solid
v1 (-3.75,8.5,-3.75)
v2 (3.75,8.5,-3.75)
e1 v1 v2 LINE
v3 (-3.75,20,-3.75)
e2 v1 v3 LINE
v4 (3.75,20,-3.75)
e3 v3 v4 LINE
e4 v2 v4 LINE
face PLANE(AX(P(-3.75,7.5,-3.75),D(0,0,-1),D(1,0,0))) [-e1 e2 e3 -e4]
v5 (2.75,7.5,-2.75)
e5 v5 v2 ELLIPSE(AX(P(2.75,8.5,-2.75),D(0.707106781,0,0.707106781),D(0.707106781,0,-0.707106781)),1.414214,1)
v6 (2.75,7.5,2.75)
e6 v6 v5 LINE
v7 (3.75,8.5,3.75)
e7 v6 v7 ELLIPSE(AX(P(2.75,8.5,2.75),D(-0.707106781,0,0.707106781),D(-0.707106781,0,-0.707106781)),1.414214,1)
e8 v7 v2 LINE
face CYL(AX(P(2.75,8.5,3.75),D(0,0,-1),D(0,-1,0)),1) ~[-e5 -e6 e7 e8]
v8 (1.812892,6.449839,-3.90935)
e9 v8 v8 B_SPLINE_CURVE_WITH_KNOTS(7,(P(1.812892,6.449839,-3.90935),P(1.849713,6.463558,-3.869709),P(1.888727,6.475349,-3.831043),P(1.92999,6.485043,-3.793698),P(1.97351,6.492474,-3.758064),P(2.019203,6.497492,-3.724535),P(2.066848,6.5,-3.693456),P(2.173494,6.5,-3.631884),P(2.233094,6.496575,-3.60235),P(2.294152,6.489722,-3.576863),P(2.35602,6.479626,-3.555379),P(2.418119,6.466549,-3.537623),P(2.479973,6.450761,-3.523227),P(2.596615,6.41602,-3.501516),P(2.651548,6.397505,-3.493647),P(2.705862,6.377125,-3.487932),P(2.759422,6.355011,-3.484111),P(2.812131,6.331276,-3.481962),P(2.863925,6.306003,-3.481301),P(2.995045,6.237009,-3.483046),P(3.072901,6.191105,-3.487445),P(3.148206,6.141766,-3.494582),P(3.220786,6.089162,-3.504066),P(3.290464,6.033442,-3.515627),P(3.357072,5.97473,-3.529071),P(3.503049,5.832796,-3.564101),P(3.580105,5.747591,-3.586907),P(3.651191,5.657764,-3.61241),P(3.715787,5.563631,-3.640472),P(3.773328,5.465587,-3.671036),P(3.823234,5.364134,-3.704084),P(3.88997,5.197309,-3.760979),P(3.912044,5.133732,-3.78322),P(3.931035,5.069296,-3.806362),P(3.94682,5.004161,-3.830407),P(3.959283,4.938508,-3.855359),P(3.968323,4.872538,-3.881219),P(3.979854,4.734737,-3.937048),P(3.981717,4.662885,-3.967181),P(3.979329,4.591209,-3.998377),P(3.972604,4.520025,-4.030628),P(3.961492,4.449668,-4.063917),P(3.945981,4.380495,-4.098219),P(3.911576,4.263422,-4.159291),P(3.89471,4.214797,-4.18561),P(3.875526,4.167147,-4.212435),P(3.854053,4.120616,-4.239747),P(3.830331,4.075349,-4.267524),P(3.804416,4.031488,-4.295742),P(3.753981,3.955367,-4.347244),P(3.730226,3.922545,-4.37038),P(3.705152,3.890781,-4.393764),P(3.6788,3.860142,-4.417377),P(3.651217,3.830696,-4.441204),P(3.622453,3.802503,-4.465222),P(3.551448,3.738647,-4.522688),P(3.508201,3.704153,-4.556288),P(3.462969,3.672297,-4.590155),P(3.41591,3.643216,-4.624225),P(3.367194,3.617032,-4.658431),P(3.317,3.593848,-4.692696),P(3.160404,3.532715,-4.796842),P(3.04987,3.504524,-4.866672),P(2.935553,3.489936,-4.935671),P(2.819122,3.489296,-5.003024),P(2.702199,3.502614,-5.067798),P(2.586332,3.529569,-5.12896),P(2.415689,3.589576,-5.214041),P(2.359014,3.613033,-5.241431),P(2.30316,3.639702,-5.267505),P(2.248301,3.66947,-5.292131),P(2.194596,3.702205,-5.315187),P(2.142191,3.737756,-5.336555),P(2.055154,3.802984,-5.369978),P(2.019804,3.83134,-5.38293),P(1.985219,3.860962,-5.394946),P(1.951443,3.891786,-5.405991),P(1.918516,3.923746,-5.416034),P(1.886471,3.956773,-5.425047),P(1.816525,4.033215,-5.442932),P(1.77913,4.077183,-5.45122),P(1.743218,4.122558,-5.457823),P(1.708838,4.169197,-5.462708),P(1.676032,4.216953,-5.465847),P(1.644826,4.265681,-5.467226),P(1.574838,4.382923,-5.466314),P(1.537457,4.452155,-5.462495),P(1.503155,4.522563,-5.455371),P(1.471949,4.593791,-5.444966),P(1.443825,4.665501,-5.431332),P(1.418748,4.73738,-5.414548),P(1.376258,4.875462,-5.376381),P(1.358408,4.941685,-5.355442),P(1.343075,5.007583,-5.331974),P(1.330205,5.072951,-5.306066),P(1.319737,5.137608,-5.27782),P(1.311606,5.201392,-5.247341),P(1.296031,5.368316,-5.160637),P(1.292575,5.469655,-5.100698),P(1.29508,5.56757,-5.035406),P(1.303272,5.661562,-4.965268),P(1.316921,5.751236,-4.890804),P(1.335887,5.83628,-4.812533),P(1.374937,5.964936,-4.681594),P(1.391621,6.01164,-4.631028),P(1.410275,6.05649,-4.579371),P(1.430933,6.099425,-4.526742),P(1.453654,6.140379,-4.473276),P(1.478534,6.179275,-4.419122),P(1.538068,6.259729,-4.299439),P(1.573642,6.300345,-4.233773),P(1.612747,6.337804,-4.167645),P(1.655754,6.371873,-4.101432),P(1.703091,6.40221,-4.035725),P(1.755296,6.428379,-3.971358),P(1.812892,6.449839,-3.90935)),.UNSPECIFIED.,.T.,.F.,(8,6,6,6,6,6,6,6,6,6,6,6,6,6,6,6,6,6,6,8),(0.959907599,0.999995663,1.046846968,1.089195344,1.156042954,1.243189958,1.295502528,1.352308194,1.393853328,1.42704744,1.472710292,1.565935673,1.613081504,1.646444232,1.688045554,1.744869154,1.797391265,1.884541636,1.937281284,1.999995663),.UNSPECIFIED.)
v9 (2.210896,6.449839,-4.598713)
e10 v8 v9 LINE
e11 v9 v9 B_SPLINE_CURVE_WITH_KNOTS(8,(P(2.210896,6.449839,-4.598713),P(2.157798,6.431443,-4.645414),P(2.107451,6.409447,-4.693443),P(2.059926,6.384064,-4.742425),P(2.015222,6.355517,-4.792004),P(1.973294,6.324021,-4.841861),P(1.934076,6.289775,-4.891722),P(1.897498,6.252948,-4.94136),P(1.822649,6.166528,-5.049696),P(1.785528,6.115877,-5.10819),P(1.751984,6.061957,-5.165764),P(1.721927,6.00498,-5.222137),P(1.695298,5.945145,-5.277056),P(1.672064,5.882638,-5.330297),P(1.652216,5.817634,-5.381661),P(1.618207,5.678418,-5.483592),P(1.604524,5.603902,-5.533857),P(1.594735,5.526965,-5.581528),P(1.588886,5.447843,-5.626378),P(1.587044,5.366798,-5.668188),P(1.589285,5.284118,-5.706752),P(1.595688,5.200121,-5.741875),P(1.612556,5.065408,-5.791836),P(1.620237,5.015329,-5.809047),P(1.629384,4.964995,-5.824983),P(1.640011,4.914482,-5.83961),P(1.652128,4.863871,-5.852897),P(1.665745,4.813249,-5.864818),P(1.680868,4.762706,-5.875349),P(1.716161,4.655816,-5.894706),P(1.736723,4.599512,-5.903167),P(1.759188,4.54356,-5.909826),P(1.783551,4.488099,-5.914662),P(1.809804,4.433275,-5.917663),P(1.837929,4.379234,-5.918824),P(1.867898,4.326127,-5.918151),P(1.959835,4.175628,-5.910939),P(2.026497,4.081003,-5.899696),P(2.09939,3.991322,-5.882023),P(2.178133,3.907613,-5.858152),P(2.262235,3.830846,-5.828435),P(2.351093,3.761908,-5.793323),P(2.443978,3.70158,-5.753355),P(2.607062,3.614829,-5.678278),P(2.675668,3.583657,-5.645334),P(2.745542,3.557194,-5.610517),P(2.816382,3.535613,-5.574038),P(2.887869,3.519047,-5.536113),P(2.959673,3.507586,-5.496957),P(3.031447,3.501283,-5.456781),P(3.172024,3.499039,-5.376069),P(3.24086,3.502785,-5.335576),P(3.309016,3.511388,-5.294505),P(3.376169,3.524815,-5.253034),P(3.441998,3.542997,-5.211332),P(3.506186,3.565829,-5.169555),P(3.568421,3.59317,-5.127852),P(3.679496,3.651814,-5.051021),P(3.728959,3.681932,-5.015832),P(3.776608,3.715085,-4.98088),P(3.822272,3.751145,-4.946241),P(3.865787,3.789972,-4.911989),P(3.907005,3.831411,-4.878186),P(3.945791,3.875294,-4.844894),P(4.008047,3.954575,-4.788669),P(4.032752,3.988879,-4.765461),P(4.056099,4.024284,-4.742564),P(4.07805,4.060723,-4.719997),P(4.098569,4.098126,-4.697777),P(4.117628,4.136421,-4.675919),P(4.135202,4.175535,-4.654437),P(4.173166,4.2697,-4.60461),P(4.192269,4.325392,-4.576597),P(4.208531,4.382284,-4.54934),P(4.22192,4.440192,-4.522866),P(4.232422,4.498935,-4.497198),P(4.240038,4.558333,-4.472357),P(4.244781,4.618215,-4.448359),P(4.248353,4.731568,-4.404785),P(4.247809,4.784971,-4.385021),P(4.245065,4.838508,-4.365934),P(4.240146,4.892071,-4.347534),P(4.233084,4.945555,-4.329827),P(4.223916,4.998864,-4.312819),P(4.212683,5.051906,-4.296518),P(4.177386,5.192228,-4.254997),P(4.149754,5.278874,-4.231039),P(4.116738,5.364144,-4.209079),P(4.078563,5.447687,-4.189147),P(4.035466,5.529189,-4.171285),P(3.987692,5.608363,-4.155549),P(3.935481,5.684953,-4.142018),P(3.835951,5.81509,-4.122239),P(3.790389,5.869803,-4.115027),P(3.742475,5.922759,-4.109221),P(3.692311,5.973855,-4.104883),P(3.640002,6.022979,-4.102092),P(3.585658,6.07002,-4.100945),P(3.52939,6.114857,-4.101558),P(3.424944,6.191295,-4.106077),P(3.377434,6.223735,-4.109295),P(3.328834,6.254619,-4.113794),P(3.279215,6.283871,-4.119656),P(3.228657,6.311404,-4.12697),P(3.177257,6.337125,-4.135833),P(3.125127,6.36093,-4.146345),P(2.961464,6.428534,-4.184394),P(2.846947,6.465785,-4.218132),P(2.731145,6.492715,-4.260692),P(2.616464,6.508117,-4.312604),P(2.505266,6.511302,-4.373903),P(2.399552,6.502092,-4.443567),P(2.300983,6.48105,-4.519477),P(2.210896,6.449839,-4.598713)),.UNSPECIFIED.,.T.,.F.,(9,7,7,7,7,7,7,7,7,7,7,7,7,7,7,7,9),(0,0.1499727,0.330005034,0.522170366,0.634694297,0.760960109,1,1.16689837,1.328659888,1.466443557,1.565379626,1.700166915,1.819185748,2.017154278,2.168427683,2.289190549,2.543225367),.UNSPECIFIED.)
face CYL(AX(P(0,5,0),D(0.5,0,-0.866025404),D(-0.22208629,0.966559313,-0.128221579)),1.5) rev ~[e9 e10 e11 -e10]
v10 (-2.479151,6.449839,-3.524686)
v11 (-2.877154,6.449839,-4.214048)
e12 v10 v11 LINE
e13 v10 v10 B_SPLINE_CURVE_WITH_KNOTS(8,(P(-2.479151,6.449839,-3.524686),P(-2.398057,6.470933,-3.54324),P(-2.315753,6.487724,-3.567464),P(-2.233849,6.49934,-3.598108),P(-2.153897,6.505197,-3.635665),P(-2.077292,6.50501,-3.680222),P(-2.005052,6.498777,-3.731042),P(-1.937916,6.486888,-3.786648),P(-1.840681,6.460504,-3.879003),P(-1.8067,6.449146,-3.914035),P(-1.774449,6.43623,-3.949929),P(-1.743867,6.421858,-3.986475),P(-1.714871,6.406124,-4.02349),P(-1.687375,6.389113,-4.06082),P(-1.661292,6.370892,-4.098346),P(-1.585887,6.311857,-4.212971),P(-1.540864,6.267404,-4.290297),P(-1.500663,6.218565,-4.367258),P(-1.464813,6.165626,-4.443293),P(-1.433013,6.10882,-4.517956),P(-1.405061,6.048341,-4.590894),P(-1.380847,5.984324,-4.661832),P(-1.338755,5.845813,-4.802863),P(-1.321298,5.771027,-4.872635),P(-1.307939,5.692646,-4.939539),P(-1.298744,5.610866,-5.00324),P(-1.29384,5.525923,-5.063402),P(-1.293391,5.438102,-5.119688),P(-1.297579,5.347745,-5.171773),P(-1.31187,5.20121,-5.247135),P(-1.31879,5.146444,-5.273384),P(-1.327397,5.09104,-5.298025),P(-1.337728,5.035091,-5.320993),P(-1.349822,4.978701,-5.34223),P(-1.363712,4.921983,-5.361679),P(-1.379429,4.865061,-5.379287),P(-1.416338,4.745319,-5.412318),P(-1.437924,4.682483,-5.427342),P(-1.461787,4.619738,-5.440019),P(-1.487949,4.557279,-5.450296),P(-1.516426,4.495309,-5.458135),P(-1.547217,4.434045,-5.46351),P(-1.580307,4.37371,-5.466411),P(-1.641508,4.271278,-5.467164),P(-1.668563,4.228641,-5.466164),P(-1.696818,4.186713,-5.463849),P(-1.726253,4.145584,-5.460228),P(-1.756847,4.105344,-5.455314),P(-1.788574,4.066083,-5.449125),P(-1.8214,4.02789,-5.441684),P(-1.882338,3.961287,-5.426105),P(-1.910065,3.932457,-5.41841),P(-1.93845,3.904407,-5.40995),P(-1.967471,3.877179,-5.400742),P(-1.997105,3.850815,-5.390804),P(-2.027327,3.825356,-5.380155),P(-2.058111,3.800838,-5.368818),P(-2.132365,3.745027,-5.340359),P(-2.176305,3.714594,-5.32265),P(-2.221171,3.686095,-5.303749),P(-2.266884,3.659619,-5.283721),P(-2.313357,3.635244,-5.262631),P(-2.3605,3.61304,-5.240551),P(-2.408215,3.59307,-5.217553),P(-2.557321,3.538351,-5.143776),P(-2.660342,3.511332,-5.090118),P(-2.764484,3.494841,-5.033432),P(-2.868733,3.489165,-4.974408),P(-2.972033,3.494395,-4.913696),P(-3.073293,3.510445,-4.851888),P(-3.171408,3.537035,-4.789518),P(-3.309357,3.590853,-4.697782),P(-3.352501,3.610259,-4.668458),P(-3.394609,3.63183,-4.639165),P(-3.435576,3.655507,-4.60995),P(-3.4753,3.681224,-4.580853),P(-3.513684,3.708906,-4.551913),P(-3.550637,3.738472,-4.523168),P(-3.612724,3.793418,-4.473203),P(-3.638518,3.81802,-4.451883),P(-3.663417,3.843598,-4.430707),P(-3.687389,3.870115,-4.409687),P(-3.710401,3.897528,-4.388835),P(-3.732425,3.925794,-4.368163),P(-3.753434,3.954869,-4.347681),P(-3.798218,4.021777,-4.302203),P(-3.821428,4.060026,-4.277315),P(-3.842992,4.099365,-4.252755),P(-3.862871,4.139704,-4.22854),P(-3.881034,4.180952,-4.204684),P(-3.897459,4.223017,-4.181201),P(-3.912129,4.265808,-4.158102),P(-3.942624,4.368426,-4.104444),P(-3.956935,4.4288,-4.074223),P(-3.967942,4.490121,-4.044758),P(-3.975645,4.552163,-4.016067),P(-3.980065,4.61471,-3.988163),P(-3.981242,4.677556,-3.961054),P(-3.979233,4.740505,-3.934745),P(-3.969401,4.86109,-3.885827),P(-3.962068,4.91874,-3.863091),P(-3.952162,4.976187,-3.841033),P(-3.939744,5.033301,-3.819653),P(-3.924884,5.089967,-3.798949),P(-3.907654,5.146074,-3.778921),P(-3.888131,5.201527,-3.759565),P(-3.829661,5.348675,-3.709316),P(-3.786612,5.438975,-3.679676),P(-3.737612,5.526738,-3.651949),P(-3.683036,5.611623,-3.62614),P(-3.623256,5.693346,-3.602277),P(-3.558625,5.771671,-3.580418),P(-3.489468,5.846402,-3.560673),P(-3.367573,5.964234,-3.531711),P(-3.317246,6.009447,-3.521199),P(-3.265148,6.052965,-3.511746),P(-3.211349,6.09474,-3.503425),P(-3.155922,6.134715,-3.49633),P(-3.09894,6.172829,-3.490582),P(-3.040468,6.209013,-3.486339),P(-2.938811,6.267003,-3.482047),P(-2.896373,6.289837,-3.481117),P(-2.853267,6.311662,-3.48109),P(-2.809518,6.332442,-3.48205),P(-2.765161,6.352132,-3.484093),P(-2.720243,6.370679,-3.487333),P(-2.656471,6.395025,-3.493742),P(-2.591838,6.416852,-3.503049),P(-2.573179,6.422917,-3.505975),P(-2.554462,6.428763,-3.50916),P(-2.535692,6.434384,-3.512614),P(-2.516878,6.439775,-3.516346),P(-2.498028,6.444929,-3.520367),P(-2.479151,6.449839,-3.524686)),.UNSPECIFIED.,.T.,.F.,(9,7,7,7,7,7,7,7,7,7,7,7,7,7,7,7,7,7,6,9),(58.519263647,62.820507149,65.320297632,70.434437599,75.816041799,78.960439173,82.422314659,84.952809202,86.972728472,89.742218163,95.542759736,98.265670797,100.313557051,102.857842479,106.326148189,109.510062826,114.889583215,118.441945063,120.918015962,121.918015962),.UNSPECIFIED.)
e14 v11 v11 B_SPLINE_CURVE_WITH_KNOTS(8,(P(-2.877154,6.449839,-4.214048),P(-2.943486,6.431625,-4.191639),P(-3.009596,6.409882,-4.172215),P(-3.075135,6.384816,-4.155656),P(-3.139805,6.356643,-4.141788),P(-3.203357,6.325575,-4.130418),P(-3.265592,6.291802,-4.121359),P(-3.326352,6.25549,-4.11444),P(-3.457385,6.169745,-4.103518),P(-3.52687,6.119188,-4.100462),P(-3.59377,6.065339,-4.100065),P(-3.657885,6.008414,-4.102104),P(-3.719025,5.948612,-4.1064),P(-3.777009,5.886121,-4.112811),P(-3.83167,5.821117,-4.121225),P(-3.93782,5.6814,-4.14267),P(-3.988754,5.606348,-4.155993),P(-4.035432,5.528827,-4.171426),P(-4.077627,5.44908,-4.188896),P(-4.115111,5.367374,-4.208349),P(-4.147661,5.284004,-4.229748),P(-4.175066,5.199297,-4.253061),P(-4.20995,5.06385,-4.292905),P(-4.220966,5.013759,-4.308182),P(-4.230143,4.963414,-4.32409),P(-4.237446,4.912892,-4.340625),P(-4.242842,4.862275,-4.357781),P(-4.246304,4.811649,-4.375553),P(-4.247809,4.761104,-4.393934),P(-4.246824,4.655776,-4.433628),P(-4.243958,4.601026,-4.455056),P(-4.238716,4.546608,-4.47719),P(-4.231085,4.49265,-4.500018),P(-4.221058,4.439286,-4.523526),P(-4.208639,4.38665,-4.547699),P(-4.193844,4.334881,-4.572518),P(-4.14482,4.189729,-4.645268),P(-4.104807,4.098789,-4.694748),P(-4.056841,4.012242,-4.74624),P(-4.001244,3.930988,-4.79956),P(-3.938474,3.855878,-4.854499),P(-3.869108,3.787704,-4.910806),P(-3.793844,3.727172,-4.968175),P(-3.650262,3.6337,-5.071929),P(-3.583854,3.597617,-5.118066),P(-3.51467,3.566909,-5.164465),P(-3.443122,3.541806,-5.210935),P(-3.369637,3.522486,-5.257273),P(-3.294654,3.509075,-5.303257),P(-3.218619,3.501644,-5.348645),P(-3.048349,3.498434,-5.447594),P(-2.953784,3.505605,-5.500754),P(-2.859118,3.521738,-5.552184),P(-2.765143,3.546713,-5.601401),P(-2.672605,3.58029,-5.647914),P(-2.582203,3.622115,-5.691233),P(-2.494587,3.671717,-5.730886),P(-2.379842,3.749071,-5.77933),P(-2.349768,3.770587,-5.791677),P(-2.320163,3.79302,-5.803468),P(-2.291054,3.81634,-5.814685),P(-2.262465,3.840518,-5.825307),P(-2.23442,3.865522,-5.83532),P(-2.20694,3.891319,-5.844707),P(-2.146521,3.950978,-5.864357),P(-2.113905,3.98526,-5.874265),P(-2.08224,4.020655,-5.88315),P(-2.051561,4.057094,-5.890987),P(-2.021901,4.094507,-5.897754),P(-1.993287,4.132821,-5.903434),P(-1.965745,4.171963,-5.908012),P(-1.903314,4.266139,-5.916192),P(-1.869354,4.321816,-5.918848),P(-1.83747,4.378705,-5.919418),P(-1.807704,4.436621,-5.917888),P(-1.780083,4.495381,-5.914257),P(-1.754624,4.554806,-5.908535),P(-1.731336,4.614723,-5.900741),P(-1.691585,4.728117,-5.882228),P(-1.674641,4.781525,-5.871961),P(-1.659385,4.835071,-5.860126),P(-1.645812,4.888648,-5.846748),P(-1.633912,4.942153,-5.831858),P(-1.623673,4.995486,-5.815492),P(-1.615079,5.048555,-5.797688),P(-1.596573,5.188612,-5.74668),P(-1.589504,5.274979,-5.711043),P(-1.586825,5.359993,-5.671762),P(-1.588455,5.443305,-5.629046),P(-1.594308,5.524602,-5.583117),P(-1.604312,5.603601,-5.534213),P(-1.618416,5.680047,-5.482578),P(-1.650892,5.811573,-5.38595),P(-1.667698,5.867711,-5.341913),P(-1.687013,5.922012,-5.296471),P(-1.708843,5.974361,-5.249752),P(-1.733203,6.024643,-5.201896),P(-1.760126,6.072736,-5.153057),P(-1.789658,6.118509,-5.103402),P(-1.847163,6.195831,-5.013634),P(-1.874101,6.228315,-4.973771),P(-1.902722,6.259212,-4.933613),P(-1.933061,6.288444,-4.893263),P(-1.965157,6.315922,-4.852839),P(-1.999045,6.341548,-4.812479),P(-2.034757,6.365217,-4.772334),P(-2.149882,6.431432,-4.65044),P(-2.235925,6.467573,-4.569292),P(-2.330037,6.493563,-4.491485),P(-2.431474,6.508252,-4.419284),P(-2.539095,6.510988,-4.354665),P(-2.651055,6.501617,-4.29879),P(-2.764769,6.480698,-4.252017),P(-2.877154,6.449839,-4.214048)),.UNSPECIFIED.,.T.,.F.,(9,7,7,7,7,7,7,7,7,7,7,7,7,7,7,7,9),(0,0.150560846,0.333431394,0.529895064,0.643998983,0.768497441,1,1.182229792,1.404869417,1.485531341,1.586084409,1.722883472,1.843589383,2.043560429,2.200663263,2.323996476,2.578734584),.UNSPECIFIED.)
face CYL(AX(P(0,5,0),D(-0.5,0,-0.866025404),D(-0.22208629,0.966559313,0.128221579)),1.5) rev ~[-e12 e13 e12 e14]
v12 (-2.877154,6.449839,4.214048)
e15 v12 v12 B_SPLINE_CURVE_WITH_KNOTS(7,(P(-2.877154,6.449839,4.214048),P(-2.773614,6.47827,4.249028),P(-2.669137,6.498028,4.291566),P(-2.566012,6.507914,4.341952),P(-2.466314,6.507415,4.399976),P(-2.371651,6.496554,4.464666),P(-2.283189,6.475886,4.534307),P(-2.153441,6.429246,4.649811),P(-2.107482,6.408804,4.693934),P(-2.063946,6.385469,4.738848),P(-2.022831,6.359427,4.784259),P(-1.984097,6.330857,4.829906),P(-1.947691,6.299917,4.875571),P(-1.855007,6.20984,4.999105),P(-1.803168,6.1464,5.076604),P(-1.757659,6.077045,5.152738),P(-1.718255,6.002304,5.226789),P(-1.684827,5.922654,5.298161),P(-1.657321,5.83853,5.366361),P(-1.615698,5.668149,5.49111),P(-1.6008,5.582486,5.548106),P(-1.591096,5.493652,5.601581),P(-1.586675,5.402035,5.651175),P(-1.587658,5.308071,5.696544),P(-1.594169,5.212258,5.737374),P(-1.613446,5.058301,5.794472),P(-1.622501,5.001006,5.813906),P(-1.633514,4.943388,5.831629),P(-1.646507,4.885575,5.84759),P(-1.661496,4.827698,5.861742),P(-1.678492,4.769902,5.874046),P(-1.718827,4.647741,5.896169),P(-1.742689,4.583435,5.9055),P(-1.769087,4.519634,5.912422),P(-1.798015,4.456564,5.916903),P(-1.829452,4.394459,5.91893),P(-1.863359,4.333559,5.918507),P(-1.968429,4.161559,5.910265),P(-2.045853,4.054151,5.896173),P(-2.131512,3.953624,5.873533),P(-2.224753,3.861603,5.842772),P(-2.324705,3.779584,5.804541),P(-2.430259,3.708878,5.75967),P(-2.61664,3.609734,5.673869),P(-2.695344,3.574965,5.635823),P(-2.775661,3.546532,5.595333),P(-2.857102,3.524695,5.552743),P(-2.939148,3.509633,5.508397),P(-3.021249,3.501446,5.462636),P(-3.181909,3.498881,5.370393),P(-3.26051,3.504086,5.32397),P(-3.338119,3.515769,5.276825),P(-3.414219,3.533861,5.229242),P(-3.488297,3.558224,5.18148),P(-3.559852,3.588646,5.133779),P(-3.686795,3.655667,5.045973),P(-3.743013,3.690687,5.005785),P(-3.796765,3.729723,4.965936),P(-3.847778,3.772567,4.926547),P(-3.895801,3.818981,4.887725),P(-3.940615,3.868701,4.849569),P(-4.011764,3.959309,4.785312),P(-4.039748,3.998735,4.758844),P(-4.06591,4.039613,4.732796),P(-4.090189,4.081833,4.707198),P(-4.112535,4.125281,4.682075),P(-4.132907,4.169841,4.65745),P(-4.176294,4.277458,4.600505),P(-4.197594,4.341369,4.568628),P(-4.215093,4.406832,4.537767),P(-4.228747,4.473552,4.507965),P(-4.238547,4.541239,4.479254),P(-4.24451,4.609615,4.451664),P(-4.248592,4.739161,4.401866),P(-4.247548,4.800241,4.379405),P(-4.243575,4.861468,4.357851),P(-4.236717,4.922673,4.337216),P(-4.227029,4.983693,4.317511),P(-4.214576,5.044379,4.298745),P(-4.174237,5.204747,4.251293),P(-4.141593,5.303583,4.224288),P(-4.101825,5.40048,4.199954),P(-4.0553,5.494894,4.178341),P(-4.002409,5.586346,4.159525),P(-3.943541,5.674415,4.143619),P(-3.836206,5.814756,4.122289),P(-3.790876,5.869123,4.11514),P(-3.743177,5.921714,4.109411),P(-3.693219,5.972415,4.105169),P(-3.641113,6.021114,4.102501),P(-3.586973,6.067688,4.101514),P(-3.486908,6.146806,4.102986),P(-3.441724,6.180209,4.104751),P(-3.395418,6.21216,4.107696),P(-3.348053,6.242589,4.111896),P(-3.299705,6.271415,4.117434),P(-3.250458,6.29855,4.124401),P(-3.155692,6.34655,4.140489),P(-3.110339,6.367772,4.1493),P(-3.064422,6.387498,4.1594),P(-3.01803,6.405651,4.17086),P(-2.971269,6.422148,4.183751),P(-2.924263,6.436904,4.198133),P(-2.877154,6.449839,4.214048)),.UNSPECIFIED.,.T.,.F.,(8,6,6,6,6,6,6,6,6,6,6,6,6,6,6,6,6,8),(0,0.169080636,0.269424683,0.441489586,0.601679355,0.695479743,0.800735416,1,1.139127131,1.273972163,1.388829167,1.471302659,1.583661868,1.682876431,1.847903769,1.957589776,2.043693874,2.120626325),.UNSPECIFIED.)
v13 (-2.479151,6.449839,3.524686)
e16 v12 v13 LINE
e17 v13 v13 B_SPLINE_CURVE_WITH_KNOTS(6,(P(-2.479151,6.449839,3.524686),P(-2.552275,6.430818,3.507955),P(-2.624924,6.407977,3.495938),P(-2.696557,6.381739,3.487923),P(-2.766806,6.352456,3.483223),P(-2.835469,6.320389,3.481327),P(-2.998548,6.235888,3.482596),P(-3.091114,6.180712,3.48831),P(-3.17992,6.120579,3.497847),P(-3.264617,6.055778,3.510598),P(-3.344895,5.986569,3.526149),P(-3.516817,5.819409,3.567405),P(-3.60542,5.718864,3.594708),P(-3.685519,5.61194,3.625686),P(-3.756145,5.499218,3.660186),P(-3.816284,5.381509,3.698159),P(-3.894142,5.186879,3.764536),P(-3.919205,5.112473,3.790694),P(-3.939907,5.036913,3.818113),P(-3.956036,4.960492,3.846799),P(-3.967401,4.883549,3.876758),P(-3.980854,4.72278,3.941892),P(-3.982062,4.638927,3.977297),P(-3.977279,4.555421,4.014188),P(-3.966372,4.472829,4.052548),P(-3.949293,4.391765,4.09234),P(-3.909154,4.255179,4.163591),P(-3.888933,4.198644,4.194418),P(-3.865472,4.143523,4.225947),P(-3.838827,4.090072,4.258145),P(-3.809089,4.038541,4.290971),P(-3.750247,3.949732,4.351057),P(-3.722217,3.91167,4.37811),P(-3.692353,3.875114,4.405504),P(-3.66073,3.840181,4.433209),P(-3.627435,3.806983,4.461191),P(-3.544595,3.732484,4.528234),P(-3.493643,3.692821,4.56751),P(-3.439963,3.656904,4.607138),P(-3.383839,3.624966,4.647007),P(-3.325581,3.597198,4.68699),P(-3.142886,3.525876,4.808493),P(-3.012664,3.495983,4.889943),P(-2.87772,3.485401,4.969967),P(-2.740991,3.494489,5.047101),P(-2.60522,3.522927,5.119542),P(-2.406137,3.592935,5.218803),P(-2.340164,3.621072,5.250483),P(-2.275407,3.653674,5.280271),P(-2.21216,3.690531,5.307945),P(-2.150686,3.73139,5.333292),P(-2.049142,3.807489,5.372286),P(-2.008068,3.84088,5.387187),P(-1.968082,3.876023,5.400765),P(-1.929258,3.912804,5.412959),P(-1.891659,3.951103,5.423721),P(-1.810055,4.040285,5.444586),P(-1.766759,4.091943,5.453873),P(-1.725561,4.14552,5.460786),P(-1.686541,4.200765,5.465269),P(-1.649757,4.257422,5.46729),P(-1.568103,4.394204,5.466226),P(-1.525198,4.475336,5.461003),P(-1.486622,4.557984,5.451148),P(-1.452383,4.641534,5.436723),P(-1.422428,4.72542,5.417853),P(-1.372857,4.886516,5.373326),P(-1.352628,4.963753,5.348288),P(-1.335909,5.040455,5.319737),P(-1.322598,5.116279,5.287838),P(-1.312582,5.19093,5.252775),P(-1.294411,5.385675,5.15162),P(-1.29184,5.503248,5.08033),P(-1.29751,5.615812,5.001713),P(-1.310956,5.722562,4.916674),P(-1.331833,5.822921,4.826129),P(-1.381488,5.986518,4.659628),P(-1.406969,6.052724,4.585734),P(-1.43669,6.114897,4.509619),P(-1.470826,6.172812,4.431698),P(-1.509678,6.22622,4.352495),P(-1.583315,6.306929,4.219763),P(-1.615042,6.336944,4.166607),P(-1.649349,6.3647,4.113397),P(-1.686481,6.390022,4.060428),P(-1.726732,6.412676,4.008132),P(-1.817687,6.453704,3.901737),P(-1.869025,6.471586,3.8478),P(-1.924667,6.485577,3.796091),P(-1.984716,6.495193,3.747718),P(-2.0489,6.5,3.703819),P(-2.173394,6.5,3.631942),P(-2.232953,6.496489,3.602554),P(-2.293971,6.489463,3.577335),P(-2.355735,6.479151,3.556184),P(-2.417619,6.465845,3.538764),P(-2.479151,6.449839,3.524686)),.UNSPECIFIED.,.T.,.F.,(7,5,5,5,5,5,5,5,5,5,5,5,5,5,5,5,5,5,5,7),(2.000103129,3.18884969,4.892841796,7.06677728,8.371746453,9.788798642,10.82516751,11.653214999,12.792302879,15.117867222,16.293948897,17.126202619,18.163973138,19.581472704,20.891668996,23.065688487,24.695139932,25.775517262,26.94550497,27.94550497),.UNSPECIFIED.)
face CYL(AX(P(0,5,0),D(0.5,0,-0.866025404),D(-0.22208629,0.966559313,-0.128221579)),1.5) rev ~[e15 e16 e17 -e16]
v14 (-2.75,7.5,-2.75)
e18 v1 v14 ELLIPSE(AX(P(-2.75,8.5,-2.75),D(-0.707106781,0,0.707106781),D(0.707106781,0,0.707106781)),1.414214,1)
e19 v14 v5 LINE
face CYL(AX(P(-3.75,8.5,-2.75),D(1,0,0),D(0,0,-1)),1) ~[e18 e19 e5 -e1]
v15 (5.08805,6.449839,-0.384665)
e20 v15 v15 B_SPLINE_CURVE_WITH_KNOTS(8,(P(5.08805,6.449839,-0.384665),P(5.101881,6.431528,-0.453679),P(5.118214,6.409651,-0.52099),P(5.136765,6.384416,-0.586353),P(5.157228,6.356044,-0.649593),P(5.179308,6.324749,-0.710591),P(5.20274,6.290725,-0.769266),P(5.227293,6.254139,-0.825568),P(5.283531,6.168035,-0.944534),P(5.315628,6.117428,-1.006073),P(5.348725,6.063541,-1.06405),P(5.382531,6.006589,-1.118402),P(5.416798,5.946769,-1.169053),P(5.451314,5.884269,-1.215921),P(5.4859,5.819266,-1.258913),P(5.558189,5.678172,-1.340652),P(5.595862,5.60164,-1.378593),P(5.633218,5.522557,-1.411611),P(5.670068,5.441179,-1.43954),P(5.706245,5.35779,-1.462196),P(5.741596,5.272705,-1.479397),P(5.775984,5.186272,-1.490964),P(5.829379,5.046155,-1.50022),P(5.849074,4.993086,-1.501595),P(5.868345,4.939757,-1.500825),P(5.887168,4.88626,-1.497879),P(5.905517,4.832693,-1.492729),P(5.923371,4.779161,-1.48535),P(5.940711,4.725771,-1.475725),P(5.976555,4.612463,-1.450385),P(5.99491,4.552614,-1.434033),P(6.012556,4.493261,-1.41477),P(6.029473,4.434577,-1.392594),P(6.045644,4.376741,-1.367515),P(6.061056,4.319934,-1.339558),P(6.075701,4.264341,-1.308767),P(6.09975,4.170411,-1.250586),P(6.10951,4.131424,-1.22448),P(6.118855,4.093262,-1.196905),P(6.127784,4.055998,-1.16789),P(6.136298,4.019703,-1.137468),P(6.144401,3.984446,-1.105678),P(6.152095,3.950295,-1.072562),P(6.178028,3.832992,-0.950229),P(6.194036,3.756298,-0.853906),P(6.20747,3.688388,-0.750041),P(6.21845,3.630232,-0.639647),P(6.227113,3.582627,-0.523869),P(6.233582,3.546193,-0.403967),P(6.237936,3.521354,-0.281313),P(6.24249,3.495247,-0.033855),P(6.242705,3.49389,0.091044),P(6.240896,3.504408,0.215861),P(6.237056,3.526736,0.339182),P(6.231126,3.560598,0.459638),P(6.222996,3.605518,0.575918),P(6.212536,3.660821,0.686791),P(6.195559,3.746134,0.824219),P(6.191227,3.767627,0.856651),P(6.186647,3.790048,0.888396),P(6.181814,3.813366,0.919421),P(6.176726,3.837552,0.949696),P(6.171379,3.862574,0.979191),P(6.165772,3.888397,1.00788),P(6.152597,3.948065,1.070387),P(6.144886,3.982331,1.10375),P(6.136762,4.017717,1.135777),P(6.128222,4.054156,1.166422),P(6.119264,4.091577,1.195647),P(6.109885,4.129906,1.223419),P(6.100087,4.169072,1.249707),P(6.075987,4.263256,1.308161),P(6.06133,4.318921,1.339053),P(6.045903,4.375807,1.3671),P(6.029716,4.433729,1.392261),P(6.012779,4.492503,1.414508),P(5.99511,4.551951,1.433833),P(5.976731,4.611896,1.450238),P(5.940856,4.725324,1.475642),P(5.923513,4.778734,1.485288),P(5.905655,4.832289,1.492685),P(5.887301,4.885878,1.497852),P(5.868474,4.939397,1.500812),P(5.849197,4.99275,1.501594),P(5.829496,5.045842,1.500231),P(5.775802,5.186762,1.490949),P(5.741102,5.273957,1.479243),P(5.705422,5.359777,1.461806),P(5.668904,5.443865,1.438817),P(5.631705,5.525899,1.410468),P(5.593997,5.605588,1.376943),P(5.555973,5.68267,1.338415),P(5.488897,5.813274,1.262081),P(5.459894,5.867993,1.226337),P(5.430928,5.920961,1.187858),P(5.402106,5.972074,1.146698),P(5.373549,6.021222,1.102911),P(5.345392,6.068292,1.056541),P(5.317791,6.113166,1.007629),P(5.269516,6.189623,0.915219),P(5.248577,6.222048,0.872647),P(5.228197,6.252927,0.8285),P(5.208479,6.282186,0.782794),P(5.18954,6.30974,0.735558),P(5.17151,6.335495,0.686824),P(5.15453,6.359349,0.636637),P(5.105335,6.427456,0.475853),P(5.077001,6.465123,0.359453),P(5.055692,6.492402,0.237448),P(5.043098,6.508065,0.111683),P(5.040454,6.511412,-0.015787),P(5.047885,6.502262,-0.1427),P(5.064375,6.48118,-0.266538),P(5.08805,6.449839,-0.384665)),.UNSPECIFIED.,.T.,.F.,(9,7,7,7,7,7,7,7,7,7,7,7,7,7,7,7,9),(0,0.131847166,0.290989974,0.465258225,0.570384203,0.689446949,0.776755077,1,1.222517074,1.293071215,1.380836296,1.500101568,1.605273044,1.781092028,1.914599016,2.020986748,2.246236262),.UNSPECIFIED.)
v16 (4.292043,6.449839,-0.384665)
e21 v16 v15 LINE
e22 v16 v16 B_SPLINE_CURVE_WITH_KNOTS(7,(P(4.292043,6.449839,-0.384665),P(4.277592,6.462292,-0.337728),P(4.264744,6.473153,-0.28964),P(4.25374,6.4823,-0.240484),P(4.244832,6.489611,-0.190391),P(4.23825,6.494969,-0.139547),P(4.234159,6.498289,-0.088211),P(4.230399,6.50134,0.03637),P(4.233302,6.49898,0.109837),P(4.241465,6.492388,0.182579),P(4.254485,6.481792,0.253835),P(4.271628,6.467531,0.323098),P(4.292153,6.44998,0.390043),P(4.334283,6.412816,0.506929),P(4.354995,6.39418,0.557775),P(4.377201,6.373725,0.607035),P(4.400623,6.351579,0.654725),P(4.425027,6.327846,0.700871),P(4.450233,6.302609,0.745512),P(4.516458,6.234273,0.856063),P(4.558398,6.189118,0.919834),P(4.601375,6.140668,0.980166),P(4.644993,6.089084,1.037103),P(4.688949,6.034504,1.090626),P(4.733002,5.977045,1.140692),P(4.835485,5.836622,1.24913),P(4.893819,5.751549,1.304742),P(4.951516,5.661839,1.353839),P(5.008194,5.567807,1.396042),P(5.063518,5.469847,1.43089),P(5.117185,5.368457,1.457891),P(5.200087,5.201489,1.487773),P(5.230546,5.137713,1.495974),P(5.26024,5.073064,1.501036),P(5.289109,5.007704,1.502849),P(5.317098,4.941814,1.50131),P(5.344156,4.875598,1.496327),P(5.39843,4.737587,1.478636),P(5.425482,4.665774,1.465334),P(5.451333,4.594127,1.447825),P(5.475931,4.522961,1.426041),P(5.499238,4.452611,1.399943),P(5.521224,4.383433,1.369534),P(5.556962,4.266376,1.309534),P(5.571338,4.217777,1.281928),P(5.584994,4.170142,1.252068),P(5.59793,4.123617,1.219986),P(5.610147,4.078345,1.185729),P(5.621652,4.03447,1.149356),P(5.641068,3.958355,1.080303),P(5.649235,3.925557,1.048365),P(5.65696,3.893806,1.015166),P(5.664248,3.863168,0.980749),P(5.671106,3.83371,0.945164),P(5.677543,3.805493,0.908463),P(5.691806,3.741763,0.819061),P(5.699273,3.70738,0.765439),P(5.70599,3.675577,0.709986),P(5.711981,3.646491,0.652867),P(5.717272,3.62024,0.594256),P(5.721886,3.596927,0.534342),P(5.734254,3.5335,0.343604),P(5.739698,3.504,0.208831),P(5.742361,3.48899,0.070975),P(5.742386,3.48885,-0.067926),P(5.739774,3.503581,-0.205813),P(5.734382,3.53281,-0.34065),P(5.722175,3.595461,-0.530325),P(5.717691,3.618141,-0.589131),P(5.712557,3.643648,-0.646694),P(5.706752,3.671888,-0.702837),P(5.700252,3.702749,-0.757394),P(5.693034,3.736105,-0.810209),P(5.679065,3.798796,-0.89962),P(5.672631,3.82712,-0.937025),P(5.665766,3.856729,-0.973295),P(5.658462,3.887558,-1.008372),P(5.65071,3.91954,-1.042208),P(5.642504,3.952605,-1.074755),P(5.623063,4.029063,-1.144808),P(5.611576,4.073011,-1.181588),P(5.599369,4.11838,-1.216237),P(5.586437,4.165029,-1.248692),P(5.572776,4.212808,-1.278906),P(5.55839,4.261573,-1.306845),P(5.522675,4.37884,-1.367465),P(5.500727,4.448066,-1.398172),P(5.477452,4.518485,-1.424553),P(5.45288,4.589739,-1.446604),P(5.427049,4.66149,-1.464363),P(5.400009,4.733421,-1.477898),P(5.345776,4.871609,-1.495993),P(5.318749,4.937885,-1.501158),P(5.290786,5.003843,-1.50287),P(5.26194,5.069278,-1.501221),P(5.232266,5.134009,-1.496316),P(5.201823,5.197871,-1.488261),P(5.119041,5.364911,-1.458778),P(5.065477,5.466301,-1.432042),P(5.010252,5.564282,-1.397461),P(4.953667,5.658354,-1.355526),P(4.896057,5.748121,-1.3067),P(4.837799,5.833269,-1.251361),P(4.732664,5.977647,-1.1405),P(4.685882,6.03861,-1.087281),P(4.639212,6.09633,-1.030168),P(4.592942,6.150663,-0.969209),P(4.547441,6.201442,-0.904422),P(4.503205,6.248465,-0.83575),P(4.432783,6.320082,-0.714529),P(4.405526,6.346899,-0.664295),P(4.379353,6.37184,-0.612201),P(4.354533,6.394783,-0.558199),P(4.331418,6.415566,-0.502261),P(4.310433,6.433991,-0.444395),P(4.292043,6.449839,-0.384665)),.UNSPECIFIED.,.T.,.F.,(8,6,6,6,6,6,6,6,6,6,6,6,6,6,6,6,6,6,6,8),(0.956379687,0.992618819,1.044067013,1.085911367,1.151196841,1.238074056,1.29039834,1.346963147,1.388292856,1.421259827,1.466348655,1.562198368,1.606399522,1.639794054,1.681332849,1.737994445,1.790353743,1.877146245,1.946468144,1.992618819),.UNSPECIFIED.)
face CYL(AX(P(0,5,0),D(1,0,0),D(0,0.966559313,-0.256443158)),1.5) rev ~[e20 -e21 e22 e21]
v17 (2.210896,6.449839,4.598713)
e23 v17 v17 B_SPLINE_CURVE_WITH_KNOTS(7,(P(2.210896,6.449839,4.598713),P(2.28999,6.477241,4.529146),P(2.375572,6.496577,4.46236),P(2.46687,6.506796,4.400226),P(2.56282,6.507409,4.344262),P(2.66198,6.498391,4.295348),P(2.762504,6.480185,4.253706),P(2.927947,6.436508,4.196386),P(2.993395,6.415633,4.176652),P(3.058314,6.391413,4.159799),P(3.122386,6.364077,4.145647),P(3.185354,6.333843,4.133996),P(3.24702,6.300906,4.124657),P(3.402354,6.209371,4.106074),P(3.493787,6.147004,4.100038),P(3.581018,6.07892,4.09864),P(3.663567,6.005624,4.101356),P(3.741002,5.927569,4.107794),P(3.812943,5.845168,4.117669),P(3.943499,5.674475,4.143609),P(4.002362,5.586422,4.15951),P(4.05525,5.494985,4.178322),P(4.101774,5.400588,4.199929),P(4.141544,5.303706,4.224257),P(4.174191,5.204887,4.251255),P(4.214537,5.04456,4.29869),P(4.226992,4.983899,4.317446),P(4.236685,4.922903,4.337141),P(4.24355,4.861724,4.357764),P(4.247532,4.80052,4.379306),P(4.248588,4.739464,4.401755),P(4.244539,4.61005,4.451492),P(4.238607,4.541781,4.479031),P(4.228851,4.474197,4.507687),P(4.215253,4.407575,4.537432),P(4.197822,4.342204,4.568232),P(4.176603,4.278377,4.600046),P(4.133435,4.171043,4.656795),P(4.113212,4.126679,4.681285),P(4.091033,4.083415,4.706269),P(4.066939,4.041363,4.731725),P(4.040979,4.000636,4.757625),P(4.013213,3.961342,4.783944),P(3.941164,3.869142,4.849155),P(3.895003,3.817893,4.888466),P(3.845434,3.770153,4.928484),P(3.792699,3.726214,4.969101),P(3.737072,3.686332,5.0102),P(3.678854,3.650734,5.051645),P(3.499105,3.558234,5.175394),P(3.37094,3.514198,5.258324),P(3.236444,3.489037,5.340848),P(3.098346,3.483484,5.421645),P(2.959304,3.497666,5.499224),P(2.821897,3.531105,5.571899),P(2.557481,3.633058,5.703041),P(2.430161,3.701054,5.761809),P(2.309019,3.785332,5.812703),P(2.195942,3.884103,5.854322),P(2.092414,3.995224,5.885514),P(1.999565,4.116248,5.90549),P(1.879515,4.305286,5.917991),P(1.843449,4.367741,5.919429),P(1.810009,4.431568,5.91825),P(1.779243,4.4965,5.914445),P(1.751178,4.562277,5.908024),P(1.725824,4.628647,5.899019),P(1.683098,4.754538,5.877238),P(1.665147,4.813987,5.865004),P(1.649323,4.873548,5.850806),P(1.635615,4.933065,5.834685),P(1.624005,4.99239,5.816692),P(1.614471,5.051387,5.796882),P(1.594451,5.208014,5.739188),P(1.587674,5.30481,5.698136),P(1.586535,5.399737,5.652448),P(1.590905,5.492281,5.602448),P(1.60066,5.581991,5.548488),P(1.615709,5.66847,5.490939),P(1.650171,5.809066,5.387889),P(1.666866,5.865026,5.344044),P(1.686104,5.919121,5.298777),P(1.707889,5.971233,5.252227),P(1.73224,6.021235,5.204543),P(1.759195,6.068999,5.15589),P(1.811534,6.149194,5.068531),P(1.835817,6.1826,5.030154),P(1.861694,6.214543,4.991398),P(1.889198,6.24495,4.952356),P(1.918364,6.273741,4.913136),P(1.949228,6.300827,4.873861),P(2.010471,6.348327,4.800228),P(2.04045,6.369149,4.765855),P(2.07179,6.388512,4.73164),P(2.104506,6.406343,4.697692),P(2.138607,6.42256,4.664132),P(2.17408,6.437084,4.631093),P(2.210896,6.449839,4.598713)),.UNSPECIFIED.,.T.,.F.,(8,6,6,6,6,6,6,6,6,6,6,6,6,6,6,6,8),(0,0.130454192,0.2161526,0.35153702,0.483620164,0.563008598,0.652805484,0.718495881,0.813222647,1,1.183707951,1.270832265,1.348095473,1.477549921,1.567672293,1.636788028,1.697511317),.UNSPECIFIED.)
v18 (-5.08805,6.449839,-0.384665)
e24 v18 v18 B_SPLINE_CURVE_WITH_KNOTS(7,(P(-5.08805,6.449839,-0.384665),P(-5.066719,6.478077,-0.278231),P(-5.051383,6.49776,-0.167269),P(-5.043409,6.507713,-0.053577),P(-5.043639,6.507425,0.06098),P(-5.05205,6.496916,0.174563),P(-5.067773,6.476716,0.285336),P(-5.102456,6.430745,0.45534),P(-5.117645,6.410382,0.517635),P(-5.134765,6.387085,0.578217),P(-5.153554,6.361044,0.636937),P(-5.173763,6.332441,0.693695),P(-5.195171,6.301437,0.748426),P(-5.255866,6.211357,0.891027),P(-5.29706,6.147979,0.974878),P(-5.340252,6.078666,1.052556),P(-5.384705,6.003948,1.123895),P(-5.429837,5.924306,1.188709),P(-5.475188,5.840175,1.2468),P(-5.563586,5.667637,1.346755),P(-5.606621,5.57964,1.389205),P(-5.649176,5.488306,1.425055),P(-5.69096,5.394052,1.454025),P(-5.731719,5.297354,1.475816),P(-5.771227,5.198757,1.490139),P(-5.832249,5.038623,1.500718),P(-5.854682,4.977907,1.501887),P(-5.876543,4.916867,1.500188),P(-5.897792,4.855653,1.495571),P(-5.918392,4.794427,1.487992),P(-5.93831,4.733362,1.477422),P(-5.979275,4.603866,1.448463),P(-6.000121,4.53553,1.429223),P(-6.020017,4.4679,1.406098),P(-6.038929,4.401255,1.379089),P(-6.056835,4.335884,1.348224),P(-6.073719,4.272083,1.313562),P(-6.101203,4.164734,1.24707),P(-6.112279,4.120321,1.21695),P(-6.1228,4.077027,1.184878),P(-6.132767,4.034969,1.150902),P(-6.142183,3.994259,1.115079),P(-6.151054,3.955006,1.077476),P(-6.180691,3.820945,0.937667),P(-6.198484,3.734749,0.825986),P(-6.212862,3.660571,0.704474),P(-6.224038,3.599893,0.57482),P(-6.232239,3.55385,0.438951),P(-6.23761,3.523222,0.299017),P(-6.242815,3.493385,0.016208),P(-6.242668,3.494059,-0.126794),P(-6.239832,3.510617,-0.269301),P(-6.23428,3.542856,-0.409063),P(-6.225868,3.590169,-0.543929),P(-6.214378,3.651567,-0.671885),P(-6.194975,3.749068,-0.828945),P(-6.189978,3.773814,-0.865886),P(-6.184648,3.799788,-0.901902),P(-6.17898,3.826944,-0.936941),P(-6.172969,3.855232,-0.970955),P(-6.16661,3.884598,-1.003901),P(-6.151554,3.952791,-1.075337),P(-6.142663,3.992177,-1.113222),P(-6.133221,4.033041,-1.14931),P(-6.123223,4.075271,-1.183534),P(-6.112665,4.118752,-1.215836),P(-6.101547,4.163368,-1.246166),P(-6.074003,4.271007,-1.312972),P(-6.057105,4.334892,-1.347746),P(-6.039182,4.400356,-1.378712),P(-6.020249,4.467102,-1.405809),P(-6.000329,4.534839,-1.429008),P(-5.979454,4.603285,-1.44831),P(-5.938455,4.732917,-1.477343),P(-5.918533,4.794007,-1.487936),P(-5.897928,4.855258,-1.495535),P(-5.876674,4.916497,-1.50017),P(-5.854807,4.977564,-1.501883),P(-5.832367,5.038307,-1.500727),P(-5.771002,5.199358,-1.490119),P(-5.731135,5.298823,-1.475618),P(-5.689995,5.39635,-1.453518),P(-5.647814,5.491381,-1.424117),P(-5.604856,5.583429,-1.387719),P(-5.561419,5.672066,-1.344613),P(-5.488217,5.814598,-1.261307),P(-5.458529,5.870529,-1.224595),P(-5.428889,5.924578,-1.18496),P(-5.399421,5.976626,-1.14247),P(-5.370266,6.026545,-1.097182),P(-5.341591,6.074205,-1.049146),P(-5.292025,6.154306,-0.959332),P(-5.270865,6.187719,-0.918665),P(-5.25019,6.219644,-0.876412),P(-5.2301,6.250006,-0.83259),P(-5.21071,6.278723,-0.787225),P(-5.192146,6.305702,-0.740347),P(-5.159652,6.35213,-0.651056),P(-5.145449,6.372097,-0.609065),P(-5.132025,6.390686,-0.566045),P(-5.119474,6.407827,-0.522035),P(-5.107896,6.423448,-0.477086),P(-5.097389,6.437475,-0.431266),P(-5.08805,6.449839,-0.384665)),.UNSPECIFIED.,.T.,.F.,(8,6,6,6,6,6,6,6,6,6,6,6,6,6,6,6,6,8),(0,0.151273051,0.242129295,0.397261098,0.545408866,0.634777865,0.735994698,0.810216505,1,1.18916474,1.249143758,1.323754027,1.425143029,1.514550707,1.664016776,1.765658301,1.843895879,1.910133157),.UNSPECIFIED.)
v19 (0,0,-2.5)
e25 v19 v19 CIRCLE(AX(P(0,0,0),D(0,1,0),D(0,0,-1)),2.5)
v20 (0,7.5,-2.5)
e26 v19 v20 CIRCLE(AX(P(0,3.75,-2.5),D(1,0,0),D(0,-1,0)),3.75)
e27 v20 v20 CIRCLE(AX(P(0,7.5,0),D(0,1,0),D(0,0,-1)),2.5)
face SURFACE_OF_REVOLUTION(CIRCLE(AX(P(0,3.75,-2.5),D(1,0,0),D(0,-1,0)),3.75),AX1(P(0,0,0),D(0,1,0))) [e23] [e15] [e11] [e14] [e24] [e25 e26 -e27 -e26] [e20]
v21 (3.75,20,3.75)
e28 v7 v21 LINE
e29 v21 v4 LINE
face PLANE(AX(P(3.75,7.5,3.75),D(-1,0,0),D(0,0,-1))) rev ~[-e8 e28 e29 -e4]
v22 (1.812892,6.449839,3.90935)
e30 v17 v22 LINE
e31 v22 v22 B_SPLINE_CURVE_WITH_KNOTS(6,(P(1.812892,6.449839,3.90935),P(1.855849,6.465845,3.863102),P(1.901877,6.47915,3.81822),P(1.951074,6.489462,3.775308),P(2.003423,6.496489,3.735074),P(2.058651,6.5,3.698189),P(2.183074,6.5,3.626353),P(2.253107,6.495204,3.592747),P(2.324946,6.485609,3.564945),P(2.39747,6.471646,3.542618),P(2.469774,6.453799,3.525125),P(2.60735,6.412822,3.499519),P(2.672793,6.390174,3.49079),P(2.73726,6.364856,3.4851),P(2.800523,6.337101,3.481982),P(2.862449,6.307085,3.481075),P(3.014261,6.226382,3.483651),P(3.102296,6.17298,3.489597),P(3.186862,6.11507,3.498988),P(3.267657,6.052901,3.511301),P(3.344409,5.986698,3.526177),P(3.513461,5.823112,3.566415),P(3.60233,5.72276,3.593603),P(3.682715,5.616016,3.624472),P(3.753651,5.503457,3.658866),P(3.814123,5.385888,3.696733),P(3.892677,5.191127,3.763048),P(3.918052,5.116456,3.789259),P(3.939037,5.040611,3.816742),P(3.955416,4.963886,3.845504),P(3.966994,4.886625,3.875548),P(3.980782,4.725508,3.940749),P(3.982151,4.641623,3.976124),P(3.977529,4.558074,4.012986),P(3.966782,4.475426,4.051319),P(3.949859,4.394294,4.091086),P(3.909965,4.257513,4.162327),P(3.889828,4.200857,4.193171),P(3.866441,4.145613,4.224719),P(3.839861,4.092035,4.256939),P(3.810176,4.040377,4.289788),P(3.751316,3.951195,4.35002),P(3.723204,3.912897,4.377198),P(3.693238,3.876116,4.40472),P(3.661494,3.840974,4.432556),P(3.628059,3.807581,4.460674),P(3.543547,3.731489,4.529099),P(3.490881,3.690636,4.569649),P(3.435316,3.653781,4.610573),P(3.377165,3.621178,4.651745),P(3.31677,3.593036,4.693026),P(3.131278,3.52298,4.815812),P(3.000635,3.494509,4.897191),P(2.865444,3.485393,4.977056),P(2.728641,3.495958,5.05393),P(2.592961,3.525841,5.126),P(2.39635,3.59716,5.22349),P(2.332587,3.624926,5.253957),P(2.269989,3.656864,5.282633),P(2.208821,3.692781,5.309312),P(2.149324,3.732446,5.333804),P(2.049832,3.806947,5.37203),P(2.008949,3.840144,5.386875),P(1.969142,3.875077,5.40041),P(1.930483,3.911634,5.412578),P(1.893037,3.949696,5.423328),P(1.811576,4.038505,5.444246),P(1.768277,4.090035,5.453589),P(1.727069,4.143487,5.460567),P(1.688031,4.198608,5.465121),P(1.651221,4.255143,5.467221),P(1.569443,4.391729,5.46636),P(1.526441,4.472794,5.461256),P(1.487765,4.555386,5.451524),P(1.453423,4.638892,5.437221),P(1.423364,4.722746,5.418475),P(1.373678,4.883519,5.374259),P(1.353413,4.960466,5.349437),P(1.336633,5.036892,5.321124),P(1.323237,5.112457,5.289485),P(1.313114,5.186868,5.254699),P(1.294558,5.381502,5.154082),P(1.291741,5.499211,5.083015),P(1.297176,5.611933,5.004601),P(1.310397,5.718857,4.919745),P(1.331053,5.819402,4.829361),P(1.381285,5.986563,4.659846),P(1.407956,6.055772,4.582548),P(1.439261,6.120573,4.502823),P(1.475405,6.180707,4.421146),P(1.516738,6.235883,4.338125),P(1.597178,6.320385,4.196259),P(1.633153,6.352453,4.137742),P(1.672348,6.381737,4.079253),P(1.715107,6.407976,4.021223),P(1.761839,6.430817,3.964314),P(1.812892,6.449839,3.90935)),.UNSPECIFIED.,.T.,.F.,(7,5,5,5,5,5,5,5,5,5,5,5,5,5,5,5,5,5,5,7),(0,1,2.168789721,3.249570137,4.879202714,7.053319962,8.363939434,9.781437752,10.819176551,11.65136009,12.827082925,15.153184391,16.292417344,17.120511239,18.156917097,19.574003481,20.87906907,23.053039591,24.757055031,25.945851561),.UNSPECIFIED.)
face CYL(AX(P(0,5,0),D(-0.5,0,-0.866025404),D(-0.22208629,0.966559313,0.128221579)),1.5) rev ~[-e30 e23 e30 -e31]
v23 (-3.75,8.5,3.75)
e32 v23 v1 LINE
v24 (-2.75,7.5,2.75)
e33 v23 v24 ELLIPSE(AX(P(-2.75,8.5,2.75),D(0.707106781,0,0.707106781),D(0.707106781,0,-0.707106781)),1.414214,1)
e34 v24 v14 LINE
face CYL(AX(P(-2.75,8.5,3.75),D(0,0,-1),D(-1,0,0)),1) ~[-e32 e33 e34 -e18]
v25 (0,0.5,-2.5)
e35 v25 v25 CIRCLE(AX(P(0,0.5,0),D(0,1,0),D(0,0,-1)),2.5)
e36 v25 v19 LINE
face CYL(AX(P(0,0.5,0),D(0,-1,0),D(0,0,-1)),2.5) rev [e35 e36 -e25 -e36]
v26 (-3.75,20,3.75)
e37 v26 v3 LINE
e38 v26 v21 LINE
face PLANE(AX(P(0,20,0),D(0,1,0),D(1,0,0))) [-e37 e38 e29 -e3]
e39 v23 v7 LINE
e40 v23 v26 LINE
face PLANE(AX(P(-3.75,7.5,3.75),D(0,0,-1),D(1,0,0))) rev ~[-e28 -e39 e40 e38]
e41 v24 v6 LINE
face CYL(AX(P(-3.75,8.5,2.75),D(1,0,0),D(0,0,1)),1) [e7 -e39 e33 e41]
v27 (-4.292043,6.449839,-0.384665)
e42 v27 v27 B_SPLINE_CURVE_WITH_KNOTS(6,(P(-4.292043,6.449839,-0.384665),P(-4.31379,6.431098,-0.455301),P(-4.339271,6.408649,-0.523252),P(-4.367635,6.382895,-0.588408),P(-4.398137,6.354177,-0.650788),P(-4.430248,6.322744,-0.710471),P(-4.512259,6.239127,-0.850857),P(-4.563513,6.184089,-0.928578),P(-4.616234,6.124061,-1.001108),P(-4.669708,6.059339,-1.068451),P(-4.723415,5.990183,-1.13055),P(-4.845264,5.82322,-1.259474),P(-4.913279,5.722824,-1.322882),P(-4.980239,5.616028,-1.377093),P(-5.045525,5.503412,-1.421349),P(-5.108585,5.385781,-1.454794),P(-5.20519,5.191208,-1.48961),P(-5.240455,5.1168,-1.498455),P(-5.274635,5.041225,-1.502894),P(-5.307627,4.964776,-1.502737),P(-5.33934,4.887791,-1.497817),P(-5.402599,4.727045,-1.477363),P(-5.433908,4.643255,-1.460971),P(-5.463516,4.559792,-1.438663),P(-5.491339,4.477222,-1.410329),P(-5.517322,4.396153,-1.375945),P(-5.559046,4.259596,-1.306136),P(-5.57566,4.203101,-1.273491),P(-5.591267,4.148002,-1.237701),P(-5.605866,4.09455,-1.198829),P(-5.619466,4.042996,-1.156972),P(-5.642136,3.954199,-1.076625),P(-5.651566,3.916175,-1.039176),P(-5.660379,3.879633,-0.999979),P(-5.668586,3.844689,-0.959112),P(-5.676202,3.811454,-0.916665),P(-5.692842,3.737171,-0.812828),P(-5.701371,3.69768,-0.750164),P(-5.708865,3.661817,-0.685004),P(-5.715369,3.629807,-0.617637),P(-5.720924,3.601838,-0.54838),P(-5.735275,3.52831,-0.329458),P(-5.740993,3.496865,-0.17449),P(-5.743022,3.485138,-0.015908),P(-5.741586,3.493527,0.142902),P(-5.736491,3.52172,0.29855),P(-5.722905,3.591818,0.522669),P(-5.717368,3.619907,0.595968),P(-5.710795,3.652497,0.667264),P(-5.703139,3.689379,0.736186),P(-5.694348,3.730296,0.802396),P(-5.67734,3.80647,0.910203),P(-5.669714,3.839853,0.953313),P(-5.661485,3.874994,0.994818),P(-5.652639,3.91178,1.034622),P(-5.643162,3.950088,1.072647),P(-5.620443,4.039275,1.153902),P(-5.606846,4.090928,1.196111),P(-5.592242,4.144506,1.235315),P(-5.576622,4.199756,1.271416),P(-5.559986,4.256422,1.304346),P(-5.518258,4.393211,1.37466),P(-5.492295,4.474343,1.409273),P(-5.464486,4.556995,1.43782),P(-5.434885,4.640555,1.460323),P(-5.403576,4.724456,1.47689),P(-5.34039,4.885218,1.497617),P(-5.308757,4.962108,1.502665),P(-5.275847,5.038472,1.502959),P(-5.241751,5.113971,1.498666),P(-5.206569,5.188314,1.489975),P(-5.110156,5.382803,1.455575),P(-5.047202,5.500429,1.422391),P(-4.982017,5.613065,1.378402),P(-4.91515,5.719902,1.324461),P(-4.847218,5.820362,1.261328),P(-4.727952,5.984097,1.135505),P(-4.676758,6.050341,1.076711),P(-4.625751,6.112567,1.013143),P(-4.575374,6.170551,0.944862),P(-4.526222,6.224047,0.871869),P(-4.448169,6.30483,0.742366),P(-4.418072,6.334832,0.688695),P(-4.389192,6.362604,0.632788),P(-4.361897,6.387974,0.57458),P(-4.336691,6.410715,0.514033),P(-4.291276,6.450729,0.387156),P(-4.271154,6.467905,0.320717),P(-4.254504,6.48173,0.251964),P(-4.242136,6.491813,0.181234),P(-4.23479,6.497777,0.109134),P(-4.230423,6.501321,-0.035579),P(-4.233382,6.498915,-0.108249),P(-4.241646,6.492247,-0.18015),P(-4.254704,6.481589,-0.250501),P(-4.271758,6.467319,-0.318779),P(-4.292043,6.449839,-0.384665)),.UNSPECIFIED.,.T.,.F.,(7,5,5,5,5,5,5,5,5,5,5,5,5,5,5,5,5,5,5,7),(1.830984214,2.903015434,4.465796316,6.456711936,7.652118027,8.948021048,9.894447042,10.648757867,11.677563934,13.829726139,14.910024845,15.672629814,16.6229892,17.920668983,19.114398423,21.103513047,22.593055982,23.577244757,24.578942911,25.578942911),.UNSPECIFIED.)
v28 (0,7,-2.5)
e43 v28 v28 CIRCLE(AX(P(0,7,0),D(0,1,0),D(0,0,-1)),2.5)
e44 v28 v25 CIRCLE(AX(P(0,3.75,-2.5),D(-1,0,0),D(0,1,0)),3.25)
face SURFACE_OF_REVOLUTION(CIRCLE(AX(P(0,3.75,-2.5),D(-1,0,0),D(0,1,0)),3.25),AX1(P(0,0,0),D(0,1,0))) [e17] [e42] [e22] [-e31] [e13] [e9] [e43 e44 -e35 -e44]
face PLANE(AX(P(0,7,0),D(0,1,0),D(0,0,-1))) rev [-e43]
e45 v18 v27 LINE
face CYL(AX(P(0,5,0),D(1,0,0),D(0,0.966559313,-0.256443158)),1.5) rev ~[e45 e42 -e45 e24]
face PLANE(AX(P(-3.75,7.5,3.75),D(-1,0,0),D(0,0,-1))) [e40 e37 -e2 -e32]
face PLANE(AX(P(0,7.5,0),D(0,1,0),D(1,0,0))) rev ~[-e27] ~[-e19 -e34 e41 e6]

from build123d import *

# Parameters (mm, degrees)
SKETCH3_R           = 1.5
CUT_EXTRUDE1_DEPTH  = 12.592023292
CIRPATTERN1_COUNT   = 6
SKETCH4_W           = 7.5
SKETCH4_H           = 7.5
BOSS_EXTRUDE2_DEPTH = 12.5
FILLET1_R           = 1


with BuildPart() as part:
    # Sketch2 → Revolve1 (revolve)
    with BuildSketch(Plane.XY, mode=Mode.PRIVATE) as revolve1_sk:
        with BuildLine():
            Line((2.5, 7.5), (0, 7.5))
            Line((0, 7.5), (0, 7))
            Line((0, 7), (2.5, 7))
            ThreePointArc((2.5, 7), (5.75, 3.75), (2.5, 0.5))
            Line((2.5, 0.5), (2.5, 0))
            ThreePointArc((2.5, 0), (6.25, 3.75), (2.5, 7.5))
        make_face()
    revolve(revolve1_sk.sketch.rotate(Axis((0, 0, 0), (0, 1, 0)), 90), axis=Axis((0, 0, 0), (0, 1, 0)))

    # Sketch3 → Cut-Extrude1 (cut, symmetric)
    with BuildSketch(Plane(origin=(0, 0, 0), x_dir=(0, 0, -1), z_dir=(1, 0, 0))):
        with Locations(Location((0, 5, 0), (0, 0, 75.140884096))):
            Circle(SKETCH3_R)
    cut_extrude1 = extrude(amount=CUT_EXTRUDE1_DEPTH, both=True, mode=Mode.SUBTRACT)

    # CirPattern1: Cut-Extrude1 ×6 about axis
    cirpattern1_axis = Axis((0, 0, 0), (0, 1, 0))
    for i in range(1, CIRPATTERN1_COUNT):
        add(cut_extrude1.rotate(cirpattern1_axis, i * 360 / CIRPATTERN1_COUNT), mode=Mode.SUBTRACT)

    # Sketch4 → Boss-Extrude2 (add)
    with BuildSketch(Plane(origin=(0, 7.5, 0), x_dir=(1, 0, 0), z_dir=(0, 1, 0))):
        Rectangle(SKETCH4_W, SKETCH4_H)
    extrude(amount=BOSS_EXTRUDE2_DEPTH)

    # Fillet1
    fillet1_edges = [part.edges().sort_by_distance(p)[0] for p in [
        (3.75, 7.5, 0),
        (0, 7.5, -3.75),
        (-3.75, 7.5, 0),
        (0, 7.5, 3.75),
    ]]
    fillet(fillet1_edges, radius=FILLET1_R)


solid = part.part
